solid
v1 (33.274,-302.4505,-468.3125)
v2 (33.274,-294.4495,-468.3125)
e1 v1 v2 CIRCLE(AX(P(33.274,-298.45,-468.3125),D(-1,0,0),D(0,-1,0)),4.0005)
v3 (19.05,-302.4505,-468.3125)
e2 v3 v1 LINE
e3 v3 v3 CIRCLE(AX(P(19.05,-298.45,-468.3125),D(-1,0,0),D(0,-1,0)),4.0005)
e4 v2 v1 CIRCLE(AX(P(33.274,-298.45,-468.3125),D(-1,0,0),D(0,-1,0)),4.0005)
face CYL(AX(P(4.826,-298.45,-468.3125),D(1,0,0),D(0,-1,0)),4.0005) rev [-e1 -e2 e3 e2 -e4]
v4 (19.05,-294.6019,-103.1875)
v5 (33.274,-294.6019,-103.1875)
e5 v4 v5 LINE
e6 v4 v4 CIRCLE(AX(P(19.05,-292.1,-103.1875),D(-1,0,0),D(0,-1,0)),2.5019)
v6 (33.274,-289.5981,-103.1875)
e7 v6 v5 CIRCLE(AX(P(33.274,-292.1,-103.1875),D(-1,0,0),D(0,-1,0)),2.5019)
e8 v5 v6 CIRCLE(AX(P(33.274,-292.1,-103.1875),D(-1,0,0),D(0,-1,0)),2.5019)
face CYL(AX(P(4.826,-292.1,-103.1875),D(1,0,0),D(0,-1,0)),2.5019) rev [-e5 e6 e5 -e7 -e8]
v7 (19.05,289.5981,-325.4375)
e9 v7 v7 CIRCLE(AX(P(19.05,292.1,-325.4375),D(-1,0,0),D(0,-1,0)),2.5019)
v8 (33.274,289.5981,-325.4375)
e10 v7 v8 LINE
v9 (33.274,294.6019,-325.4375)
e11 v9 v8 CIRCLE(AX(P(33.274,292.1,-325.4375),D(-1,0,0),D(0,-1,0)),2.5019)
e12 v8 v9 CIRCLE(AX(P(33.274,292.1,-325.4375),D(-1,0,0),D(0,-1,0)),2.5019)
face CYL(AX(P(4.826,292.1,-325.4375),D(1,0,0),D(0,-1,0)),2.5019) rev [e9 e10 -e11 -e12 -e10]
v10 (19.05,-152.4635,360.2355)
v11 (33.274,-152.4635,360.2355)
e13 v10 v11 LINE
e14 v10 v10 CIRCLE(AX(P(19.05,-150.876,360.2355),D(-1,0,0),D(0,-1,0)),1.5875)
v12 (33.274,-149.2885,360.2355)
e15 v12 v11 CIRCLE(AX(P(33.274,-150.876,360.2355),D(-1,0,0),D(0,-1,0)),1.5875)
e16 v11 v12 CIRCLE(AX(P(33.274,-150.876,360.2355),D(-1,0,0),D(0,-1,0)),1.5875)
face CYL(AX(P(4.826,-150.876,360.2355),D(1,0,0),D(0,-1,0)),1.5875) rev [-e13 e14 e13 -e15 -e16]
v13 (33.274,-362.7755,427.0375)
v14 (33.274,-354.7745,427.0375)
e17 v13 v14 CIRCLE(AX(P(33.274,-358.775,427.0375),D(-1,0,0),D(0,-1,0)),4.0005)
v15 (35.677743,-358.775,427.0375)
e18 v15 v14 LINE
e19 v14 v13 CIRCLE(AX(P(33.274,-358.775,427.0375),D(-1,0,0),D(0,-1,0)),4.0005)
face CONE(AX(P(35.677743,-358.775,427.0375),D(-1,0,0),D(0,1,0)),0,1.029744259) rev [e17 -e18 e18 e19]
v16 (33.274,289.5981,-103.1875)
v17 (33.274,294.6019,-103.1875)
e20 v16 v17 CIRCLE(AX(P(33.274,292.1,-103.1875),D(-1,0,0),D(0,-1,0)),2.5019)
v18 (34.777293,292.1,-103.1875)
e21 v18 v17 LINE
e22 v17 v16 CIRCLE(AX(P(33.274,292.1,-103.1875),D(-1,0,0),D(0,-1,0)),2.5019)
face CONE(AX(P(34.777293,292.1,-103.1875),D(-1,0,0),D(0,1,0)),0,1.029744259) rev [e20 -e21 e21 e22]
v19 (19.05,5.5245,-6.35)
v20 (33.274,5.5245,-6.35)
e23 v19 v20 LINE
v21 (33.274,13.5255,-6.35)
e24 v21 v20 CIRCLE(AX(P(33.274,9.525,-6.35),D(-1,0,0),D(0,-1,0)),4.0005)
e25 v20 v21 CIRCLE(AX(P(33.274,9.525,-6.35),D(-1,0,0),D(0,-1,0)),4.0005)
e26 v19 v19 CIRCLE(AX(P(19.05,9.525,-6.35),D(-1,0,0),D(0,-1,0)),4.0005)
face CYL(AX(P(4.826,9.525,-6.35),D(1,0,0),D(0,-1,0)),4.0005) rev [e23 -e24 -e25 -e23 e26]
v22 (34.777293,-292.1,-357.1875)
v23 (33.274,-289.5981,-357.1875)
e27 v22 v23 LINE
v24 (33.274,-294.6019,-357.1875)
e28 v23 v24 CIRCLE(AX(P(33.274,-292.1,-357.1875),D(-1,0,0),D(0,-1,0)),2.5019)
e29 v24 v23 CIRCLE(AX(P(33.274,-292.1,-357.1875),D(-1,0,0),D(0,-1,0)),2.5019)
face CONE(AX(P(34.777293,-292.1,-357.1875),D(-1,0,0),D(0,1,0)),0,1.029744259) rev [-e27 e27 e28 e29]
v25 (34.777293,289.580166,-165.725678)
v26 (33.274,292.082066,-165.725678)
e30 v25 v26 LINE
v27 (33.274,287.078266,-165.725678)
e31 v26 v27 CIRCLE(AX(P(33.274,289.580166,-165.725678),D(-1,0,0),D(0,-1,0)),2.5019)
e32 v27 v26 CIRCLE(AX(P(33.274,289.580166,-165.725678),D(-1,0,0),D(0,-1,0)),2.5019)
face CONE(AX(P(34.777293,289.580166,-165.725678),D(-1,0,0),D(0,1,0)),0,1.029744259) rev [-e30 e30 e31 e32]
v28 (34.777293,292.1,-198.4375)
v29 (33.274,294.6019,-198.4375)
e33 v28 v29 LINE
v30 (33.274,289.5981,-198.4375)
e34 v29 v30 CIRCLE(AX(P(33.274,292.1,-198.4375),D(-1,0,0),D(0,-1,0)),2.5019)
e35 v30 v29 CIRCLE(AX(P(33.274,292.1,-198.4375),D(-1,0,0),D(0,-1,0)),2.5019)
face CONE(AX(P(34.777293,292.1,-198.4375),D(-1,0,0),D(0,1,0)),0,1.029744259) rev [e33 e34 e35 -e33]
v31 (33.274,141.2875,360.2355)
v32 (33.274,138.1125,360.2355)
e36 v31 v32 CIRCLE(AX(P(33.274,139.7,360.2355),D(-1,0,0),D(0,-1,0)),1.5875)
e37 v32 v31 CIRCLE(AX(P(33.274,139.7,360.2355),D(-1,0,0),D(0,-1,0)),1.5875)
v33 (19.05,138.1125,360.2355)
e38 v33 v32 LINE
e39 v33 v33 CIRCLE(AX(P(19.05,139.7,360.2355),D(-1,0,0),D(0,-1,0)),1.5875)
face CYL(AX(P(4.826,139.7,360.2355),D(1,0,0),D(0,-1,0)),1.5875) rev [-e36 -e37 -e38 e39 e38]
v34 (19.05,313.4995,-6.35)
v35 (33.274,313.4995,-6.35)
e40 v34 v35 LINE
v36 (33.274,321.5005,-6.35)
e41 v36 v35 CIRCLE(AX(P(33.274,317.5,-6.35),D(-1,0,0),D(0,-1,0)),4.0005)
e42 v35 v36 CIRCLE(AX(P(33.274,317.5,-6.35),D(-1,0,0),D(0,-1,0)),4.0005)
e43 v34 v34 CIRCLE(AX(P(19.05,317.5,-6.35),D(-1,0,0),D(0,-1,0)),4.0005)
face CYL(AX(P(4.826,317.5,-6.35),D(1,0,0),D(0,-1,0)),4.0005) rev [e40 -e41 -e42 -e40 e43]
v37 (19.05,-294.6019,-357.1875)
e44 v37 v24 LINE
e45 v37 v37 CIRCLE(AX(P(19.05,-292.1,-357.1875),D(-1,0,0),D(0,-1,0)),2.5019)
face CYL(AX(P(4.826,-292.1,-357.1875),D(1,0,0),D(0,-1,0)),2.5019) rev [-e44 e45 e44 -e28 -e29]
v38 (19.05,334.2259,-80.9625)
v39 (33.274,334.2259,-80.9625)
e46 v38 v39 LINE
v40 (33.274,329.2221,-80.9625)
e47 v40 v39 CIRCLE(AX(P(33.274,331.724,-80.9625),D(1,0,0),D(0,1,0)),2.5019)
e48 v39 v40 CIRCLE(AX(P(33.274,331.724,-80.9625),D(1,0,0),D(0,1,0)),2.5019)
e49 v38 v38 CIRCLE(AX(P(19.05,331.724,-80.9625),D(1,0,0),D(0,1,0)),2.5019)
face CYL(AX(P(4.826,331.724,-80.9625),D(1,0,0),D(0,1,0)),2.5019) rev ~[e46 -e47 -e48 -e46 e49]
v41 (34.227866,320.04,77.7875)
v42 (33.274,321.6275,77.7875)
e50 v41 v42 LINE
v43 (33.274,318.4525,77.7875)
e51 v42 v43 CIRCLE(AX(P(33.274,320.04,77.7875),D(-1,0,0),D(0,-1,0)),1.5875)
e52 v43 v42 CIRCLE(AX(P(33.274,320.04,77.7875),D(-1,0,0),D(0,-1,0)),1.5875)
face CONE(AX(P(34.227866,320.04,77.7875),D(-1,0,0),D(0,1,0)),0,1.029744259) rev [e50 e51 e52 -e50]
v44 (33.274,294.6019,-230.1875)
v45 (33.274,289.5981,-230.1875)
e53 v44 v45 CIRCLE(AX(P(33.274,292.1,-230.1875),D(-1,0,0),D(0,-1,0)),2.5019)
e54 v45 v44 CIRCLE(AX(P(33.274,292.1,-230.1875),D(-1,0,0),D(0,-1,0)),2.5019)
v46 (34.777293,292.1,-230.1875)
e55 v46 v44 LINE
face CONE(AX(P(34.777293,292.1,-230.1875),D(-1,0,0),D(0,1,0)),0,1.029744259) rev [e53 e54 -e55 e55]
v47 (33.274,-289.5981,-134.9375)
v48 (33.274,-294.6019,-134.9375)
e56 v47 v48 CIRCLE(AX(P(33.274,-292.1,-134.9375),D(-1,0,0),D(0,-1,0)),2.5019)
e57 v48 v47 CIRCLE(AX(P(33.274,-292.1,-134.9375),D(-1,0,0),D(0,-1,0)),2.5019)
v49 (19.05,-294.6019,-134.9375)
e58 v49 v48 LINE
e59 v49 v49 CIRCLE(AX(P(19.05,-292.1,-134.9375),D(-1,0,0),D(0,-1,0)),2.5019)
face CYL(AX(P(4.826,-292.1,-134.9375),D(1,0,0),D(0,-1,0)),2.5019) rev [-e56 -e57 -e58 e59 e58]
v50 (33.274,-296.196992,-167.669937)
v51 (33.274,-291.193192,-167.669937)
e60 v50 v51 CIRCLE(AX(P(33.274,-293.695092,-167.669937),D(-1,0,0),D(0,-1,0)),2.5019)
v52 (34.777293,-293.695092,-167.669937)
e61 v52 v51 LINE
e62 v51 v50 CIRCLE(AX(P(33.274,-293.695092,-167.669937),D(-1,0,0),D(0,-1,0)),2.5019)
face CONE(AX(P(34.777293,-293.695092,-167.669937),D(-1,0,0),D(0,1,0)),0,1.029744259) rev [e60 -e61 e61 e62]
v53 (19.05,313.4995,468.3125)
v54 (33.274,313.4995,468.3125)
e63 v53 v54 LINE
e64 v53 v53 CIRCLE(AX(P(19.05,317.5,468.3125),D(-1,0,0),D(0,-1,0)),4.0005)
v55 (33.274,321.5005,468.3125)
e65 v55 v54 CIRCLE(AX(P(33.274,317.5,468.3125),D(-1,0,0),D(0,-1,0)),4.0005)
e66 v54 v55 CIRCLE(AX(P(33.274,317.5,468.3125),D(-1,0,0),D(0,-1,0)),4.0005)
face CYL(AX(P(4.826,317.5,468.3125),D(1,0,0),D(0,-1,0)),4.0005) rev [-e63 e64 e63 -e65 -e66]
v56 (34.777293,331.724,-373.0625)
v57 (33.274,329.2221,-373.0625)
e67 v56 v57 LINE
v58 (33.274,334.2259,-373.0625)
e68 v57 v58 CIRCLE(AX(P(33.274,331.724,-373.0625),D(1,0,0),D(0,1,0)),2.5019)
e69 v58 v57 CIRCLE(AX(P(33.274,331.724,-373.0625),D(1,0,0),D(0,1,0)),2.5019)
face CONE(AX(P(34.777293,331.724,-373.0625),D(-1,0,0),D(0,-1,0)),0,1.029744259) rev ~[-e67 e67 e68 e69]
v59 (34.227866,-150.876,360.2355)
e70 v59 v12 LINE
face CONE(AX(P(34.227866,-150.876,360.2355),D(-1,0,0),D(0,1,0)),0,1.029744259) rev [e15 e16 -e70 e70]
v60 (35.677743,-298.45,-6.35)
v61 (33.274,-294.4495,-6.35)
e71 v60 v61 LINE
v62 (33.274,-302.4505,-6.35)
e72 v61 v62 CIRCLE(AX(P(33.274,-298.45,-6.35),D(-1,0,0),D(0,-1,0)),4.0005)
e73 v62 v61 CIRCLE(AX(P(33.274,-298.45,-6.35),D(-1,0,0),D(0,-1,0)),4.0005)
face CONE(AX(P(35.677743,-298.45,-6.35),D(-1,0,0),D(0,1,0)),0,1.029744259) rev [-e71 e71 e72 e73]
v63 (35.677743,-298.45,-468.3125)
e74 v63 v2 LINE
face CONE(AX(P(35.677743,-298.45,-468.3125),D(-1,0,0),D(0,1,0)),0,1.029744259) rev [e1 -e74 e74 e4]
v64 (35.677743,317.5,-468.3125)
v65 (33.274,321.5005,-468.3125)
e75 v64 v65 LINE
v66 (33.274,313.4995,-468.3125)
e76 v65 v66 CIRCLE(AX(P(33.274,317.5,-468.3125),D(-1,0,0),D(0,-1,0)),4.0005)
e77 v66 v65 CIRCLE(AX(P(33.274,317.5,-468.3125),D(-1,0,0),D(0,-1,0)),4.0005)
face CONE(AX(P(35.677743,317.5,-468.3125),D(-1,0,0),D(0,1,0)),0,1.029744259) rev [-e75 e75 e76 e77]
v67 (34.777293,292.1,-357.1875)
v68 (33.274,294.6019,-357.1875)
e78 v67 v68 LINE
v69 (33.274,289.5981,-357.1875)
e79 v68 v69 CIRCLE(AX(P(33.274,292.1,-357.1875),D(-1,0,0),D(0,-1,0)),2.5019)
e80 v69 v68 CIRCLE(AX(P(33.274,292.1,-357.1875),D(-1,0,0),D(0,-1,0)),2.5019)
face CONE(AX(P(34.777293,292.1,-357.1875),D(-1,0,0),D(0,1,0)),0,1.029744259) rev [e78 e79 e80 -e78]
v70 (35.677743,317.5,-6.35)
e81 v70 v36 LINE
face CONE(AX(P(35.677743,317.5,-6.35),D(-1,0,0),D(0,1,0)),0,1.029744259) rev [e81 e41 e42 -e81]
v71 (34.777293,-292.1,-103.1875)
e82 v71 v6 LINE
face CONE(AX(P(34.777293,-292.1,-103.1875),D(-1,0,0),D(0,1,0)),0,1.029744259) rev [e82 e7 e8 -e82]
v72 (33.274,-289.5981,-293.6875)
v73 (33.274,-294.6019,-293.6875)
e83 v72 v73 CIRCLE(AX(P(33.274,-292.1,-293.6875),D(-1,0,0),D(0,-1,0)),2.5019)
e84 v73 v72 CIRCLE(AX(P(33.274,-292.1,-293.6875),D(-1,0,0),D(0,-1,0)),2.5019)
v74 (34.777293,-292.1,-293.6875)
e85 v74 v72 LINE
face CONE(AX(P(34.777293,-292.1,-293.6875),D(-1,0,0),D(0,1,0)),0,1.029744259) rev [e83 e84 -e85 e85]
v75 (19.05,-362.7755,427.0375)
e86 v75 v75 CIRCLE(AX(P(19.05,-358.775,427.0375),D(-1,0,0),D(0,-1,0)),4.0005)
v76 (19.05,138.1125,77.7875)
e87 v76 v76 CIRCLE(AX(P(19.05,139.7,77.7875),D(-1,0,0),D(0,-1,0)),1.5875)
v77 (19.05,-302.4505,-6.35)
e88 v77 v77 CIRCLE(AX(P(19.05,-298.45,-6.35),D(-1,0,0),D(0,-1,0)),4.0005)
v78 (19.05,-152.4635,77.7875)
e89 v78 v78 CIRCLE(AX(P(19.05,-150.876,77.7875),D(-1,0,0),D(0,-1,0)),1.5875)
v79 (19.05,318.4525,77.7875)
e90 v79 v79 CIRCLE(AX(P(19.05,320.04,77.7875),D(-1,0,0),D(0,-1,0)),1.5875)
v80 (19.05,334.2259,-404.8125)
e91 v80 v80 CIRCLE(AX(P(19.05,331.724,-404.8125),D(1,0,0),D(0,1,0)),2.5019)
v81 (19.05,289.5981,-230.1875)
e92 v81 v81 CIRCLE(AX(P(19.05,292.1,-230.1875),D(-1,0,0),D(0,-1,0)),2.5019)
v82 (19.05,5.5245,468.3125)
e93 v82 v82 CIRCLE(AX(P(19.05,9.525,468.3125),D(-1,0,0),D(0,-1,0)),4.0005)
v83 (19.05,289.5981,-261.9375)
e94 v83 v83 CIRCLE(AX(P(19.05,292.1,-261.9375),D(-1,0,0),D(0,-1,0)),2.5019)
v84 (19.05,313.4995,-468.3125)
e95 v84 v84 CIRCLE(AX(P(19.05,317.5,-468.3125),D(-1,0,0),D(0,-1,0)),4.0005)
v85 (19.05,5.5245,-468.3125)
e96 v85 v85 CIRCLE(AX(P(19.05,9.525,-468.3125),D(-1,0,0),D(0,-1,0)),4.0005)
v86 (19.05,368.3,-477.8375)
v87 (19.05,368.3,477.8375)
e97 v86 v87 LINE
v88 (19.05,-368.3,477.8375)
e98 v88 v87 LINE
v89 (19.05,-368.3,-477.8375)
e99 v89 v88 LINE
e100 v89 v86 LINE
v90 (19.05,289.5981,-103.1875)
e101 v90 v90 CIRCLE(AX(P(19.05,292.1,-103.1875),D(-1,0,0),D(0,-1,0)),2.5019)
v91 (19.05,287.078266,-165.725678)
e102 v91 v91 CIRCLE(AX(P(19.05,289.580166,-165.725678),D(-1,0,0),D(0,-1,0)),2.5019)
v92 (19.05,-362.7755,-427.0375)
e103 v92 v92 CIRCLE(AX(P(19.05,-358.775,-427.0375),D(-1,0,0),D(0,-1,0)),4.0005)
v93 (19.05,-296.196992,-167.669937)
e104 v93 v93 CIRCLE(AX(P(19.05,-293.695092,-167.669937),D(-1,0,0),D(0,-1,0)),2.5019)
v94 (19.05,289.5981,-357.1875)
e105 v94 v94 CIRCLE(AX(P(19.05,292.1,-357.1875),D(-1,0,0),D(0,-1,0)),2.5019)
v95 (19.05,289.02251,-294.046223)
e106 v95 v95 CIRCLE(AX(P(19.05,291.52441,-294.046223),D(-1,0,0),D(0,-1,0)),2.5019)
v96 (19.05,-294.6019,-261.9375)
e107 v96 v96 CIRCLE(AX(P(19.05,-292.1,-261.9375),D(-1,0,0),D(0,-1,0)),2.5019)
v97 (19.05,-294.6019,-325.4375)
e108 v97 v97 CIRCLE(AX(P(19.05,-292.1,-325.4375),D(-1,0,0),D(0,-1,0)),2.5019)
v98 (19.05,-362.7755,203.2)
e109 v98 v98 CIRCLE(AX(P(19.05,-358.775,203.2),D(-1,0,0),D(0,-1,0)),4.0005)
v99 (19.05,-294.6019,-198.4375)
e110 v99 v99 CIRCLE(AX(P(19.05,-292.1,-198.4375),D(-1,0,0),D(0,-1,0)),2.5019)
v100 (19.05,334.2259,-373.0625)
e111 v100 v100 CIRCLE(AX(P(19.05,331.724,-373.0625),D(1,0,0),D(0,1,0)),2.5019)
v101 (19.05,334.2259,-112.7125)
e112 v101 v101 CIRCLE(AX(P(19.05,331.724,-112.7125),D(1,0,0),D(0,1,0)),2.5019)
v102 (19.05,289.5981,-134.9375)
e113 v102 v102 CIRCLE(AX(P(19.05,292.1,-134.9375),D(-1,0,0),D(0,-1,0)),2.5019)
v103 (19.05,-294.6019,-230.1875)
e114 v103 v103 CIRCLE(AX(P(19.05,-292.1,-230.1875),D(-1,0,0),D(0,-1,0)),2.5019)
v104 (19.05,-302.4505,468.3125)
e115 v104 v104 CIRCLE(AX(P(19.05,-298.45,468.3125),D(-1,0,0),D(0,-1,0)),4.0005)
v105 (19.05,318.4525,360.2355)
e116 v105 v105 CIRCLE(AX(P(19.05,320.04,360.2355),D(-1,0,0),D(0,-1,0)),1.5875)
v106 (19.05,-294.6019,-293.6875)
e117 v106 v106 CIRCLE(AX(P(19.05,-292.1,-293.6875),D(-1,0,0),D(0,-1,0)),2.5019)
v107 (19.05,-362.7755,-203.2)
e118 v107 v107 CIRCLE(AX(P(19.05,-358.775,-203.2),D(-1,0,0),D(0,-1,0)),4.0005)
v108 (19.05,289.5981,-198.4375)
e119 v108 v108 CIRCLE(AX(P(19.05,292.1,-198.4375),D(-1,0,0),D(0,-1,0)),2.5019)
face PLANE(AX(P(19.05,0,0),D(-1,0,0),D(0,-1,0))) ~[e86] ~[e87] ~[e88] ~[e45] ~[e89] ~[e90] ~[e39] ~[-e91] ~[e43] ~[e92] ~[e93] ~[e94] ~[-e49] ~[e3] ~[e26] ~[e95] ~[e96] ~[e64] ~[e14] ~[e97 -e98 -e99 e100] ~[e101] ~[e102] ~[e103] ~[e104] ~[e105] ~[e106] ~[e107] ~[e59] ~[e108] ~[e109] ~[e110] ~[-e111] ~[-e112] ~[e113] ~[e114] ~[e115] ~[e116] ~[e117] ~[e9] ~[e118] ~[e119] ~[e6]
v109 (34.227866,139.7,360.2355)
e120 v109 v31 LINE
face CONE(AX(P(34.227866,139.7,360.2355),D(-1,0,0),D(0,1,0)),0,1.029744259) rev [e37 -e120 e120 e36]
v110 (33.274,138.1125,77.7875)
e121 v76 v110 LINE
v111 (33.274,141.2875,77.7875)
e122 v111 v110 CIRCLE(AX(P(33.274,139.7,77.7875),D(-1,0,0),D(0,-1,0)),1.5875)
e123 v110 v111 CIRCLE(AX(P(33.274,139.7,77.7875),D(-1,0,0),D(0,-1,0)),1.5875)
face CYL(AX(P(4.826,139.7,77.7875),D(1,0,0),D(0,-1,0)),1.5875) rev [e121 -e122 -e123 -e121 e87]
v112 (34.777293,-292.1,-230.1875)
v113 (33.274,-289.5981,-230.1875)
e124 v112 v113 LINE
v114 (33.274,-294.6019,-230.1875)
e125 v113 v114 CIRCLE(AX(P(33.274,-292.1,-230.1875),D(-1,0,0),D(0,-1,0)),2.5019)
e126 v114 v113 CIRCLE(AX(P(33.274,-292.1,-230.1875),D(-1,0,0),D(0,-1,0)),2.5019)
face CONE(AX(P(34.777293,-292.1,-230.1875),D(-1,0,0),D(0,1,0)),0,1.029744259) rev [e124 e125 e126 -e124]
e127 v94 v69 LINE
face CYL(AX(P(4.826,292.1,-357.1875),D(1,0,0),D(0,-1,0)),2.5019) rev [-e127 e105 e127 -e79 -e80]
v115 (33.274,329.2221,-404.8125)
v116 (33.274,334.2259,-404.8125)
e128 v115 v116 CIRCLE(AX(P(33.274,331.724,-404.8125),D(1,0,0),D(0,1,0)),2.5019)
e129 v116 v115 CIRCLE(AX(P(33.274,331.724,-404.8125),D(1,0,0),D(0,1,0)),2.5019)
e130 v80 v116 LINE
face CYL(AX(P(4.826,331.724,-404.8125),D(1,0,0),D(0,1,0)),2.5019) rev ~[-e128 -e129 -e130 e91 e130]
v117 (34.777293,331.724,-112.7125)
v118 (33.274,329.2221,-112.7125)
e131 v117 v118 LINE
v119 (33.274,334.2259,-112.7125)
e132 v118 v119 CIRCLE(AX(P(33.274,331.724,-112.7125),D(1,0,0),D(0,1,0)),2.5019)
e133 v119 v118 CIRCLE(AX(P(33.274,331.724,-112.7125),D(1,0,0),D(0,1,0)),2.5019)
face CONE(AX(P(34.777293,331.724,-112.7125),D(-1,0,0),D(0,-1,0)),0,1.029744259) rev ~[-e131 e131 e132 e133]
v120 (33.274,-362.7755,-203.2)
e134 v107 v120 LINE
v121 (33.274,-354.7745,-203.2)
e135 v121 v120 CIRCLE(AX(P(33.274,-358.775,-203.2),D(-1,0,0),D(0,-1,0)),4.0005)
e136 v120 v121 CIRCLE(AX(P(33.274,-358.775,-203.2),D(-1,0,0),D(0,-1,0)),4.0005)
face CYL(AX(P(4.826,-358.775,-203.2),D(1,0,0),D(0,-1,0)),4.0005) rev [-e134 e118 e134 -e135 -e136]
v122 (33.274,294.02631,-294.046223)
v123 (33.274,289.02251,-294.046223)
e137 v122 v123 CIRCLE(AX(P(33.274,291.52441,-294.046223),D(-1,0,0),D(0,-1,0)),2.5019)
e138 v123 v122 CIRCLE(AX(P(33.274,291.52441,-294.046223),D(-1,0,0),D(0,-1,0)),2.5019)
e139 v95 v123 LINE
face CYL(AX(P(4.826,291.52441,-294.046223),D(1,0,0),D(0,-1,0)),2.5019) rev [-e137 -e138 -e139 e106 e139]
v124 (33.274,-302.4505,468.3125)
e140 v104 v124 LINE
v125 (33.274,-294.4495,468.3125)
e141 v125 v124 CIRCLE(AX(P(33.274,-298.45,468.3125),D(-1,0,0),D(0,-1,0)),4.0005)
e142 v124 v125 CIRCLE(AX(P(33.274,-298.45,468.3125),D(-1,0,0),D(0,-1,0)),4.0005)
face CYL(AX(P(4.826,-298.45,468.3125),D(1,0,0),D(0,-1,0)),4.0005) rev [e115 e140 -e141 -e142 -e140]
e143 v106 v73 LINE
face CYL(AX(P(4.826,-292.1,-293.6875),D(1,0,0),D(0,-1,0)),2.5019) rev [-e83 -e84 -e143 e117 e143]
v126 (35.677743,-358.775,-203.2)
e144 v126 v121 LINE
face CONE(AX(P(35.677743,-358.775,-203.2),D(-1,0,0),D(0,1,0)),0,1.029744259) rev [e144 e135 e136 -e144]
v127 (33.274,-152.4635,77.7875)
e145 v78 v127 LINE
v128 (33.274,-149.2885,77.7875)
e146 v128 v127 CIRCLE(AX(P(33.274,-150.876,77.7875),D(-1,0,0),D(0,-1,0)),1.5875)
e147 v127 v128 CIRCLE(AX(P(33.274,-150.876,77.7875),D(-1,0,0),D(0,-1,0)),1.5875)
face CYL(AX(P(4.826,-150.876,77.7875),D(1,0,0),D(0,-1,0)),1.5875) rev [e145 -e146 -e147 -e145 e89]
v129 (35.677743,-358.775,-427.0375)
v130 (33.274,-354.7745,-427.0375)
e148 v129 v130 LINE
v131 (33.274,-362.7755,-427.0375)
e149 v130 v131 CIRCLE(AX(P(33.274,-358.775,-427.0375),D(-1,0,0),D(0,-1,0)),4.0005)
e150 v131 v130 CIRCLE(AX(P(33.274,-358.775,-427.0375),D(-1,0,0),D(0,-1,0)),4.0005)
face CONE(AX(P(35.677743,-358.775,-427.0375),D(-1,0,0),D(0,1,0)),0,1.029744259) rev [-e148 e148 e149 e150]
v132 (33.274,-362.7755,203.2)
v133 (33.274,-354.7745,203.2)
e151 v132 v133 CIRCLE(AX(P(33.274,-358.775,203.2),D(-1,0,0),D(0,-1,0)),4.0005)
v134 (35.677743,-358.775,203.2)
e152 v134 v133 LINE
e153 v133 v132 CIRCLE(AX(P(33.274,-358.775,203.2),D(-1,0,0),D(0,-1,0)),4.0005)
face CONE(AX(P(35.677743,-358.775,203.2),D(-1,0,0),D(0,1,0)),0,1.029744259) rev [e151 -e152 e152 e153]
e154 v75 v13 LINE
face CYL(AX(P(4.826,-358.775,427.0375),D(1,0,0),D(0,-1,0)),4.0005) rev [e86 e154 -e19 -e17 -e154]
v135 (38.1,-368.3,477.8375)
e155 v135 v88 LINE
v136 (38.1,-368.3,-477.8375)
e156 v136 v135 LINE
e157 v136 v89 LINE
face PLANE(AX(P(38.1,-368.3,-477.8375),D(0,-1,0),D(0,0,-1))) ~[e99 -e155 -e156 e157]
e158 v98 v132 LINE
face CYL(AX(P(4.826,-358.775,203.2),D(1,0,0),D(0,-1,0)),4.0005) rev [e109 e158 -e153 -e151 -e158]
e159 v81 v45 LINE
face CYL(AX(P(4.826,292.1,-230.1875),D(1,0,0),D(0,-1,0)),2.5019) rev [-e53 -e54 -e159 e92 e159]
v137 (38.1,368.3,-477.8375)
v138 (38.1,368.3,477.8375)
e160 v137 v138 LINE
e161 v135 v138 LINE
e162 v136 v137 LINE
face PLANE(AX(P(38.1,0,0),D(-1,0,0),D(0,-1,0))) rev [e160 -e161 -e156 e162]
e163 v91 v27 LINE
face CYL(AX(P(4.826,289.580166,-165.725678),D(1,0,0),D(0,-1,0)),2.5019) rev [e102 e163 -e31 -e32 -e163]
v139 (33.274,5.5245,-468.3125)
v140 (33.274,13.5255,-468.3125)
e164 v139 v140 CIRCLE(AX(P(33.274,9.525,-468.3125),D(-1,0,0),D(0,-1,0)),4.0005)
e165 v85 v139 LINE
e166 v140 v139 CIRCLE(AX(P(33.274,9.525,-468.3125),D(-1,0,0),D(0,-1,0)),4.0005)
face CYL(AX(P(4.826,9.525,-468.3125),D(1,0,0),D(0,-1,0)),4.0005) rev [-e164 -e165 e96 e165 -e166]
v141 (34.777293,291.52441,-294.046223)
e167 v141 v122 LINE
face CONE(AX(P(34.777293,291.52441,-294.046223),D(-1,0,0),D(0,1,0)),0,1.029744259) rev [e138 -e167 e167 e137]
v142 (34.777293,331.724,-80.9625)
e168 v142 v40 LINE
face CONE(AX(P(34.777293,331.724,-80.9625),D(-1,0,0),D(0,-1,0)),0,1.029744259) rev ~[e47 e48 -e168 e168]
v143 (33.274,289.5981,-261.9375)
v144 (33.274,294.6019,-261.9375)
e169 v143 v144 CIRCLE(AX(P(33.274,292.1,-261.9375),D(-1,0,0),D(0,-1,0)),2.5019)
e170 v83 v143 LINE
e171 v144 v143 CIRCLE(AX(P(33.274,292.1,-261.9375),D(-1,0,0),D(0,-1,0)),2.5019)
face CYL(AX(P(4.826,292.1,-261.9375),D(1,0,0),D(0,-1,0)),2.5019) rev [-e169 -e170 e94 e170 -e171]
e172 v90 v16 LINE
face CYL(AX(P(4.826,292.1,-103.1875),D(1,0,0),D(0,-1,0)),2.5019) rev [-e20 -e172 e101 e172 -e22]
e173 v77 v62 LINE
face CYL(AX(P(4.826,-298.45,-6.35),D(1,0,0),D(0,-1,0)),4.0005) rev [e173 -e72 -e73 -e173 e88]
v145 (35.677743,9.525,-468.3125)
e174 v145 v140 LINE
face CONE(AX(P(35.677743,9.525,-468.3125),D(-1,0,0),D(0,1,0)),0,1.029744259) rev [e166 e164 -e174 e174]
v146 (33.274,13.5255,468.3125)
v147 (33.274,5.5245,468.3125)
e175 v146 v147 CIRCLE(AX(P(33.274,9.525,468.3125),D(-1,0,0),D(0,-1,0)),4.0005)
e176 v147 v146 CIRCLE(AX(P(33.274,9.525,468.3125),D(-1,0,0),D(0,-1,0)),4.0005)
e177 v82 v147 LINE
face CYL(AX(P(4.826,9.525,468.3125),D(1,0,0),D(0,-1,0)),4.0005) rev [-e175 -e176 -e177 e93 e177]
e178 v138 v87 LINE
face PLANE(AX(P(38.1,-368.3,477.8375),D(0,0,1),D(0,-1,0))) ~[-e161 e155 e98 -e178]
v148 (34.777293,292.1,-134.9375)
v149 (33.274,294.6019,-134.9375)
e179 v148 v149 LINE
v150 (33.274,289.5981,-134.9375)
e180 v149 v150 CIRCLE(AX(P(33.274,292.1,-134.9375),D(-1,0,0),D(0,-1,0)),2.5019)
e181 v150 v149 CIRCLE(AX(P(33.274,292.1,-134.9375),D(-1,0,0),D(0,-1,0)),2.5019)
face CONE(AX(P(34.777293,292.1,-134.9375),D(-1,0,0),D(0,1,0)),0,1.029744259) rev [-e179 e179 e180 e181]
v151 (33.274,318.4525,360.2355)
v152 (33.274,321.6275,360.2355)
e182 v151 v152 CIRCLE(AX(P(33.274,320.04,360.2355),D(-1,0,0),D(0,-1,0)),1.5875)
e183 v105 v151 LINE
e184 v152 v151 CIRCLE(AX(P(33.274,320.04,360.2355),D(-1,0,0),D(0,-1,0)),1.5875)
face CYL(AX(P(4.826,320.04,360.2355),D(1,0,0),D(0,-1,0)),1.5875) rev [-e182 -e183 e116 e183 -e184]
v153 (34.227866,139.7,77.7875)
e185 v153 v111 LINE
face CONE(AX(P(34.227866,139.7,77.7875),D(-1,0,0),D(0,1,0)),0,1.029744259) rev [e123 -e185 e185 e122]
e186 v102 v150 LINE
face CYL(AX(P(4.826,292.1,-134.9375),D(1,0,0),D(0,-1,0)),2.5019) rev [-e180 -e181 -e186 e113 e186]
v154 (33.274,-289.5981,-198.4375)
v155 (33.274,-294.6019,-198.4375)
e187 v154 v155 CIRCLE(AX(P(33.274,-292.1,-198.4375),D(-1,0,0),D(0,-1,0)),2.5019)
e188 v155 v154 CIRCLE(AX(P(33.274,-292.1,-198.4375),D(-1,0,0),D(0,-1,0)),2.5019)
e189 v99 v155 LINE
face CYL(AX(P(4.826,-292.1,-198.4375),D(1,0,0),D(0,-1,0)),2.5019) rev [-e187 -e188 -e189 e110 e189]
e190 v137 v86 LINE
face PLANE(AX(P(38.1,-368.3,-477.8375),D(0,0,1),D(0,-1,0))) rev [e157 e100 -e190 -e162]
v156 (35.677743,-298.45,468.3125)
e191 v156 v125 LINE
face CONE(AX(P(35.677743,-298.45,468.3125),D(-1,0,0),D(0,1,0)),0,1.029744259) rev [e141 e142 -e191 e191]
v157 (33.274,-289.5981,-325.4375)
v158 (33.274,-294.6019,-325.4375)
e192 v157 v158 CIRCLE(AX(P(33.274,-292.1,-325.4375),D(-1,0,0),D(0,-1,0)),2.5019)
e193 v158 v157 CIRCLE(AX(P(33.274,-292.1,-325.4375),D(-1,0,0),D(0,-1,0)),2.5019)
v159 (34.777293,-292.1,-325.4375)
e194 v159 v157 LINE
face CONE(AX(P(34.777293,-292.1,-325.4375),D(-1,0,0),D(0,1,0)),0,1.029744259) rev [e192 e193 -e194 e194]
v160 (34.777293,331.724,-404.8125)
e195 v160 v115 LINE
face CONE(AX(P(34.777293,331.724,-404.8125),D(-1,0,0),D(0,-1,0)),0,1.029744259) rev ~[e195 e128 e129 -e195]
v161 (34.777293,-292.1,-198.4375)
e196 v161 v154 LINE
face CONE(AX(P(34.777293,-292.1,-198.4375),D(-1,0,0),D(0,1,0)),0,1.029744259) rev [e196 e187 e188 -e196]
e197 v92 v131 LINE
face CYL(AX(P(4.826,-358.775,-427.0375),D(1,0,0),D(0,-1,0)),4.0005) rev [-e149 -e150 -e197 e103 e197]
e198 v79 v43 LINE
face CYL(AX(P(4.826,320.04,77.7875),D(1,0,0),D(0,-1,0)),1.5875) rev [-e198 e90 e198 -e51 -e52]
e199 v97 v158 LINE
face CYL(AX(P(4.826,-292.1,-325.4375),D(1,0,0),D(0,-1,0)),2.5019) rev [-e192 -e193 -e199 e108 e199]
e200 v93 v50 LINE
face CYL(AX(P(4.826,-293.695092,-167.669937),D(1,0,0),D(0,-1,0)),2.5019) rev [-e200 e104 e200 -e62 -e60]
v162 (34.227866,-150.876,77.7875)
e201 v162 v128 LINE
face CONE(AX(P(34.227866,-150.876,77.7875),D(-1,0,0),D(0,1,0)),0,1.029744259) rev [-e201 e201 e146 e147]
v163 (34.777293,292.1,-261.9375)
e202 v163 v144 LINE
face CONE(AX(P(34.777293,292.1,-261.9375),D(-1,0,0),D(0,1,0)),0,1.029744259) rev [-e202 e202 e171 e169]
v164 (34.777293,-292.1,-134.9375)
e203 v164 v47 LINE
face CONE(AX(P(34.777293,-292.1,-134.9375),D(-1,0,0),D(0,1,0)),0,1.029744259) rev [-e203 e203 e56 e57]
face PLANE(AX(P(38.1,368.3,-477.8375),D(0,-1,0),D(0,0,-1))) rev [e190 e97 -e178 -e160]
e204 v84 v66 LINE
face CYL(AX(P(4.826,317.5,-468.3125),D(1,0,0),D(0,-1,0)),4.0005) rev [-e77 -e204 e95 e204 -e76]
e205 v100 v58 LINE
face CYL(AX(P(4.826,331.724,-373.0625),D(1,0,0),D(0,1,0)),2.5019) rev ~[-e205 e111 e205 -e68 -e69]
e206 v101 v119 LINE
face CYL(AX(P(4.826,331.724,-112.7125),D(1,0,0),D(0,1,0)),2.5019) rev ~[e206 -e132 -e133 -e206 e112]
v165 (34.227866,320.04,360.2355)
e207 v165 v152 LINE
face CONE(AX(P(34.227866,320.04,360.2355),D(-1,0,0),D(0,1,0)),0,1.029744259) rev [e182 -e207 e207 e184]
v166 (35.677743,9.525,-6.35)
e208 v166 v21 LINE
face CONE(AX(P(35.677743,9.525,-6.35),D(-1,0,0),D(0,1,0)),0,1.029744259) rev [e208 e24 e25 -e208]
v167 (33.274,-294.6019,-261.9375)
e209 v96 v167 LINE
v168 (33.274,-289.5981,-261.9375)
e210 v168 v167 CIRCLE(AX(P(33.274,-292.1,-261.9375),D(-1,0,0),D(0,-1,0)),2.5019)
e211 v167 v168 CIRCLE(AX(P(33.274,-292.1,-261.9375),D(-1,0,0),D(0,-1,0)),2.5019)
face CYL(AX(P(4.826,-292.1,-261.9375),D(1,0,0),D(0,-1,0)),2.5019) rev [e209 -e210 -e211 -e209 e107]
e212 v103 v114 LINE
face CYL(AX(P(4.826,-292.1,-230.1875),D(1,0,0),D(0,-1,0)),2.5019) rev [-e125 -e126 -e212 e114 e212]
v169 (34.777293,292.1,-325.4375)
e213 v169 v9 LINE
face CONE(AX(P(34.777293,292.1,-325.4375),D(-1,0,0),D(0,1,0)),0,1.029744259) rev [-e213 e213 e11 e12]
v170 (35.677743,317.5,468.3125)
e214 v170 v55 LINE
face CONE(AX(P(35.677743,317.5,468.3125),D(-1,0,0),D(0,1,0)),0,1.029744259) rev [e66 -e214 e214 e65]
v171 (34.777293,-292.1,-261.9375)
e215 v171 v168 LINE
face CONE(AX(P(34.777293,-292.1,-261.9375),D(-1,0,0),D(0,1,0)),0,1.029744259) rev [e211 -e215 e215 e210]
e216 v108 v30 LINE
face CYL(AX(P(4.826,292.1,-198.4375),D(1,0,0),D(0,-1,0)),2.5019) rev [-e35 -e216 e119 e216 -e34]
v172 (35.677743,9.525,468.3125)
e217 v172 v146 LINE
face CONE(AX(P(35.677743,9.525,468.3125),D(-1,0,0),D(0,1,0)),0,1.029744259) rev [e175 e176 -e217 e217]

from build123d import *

# Parameters (mm, degrees)
F0_W      = 736.6
F0_H      = 955.675
F1_DEPTH  = 19.05
F3_D      = 8.001
F3_DEPTH  = 14.224
F3_TIP    = 2.4037429064
F5_D      = 3.175
F5_DEPTH  = 14.224
F5_TIP    = 0.9538662327
F6_D      = 8.001
F6_DEPTH  = 14.224
F6_TIP    = 2.4037429064
F8_D      = 5.0038
F8_DEPTH  = 14.224
F8_TIP    = 1.5032931827
F12_D     = 5.0038
F12_DEPTH = 14.224
F12_TIP   = 1.5032931827


with BuildPart() as f1:
    # F0 (on Right) → F1 (new body)
    with BuildSketch(Plane.YZ):
        Rectangle(F0_W, F0_H)
    extrude(amount=F1_DEPTH)

    # F3
    with Locations(Plane.YZ.offset(19.05)):
        with Locations((-298.45, 468.3125), (9.525, 468.3125), (317.5, 468.3125), (-358.775, 427.0375), (-358.775, -427.0375), (-298.45, -468.3125), (9.525, -468.3125), (317.5, -468.3125), (-358.775, 203.2), (-358.775, -203.2)):
            Hole(F3_D / 2, depth=F3_DEPTH)
            with Locations((0, 0, -(F3_DEPTH + F3_TIP / 2))):  # 118° drill point
                Cone(0, F3_D / 2, F3_TIP, mode=Mode.SUBTRACT)

    # F5
    with Locations(Plane.YZ.offset(19.05)):
        with Locations((-150.876, 360.2355), (139.7, 360.2355), (320.04, 360.2355), (320.04, 77.7875), (139.7, 77.7875), (-150.876, 77.7875)):
            Hole(F5_D / 2, depth=F5_DEPTH)
            with Locations((0, 0, -(F5_DEPTH + F5_TIP / 2))):  # 118° drill point
                Cone(0, F5_D / 2, F5_TIP, mode=Mode.SUBTRACT)

    # F6
    with Locations(Plane.YZ.offset(19.05)):
        with Locations((-298.45, -6.35), (9.525, -6.35), (317.5, -6.35)):
            Hole(F6_D / 2, depth=F6_DEPTH)
            with Locations((0, 0, -(F6_DEPTH + F6_TIP / 2))):  # 118° drill point
                Cone(0, F6_D / 2, F6_TIP, mode=Mode.SUBTRACT)

    # F8
    with Locations(Plane.YZ.offset(19.05)):
        with Locations((-292.1, -103.1875), (-292.1, -134.9375), (-293.6950922012, -167.6699370146), (-292.1, -198.4375), (-292.1, -230.1875), (-292.1, -261.9375), (-292.1, -293.6875), (-292.1, -325.4375), (-292.1, -357.1875), (292.1, -357.1875), (292.1, -325.4375), (291.5244102478, -294.0462231636), (292.1, -261.9375), (292.1, -230.1875), (292.1, -198.4375), (289.5801663399, -165.7256782055), (292.1, -134.9375), (292.1, -103.1875)):
            Hole(F8_D / 2, depth=F8_DEPTH)
            with Locations((0, 0, -(F8_DEPTH + F8_TIP / 2))):  # 118° drill point
                Cone(0, F8_D / 2, F8_TIP, mode=Mode.SUBTRACT)


with BuildPart() as f9_1:
    # F9: instance of F1
    add(f1.part.mirror(Plane(origin=(19.05, 0.0896939514, 0.1024904778), x_dir=(0, 1, 0), z_dir=(1, 0, 0))))

    # F12
    with Locations(Plane(origin=(19.05, 0, 0), x_dir=(0, -1, 0), z_dir=(-1, 0, 0))):
        with Locations((-331.724, -80.9625), (-331.724, -112.7125), (-331.724, -373.0625), (-331.724, -404.8125)):
            Hole(F12_D / 2, depth=F12_DEPTH)
            with Locations((0, 0, -(F12_DEPTH + F12_TIP / 2))):  # 118° drill point
                Cone(0, F12_D / 2, F12_TIP, mode=Mode.SUBTRACT)


solid = f9_1.part
